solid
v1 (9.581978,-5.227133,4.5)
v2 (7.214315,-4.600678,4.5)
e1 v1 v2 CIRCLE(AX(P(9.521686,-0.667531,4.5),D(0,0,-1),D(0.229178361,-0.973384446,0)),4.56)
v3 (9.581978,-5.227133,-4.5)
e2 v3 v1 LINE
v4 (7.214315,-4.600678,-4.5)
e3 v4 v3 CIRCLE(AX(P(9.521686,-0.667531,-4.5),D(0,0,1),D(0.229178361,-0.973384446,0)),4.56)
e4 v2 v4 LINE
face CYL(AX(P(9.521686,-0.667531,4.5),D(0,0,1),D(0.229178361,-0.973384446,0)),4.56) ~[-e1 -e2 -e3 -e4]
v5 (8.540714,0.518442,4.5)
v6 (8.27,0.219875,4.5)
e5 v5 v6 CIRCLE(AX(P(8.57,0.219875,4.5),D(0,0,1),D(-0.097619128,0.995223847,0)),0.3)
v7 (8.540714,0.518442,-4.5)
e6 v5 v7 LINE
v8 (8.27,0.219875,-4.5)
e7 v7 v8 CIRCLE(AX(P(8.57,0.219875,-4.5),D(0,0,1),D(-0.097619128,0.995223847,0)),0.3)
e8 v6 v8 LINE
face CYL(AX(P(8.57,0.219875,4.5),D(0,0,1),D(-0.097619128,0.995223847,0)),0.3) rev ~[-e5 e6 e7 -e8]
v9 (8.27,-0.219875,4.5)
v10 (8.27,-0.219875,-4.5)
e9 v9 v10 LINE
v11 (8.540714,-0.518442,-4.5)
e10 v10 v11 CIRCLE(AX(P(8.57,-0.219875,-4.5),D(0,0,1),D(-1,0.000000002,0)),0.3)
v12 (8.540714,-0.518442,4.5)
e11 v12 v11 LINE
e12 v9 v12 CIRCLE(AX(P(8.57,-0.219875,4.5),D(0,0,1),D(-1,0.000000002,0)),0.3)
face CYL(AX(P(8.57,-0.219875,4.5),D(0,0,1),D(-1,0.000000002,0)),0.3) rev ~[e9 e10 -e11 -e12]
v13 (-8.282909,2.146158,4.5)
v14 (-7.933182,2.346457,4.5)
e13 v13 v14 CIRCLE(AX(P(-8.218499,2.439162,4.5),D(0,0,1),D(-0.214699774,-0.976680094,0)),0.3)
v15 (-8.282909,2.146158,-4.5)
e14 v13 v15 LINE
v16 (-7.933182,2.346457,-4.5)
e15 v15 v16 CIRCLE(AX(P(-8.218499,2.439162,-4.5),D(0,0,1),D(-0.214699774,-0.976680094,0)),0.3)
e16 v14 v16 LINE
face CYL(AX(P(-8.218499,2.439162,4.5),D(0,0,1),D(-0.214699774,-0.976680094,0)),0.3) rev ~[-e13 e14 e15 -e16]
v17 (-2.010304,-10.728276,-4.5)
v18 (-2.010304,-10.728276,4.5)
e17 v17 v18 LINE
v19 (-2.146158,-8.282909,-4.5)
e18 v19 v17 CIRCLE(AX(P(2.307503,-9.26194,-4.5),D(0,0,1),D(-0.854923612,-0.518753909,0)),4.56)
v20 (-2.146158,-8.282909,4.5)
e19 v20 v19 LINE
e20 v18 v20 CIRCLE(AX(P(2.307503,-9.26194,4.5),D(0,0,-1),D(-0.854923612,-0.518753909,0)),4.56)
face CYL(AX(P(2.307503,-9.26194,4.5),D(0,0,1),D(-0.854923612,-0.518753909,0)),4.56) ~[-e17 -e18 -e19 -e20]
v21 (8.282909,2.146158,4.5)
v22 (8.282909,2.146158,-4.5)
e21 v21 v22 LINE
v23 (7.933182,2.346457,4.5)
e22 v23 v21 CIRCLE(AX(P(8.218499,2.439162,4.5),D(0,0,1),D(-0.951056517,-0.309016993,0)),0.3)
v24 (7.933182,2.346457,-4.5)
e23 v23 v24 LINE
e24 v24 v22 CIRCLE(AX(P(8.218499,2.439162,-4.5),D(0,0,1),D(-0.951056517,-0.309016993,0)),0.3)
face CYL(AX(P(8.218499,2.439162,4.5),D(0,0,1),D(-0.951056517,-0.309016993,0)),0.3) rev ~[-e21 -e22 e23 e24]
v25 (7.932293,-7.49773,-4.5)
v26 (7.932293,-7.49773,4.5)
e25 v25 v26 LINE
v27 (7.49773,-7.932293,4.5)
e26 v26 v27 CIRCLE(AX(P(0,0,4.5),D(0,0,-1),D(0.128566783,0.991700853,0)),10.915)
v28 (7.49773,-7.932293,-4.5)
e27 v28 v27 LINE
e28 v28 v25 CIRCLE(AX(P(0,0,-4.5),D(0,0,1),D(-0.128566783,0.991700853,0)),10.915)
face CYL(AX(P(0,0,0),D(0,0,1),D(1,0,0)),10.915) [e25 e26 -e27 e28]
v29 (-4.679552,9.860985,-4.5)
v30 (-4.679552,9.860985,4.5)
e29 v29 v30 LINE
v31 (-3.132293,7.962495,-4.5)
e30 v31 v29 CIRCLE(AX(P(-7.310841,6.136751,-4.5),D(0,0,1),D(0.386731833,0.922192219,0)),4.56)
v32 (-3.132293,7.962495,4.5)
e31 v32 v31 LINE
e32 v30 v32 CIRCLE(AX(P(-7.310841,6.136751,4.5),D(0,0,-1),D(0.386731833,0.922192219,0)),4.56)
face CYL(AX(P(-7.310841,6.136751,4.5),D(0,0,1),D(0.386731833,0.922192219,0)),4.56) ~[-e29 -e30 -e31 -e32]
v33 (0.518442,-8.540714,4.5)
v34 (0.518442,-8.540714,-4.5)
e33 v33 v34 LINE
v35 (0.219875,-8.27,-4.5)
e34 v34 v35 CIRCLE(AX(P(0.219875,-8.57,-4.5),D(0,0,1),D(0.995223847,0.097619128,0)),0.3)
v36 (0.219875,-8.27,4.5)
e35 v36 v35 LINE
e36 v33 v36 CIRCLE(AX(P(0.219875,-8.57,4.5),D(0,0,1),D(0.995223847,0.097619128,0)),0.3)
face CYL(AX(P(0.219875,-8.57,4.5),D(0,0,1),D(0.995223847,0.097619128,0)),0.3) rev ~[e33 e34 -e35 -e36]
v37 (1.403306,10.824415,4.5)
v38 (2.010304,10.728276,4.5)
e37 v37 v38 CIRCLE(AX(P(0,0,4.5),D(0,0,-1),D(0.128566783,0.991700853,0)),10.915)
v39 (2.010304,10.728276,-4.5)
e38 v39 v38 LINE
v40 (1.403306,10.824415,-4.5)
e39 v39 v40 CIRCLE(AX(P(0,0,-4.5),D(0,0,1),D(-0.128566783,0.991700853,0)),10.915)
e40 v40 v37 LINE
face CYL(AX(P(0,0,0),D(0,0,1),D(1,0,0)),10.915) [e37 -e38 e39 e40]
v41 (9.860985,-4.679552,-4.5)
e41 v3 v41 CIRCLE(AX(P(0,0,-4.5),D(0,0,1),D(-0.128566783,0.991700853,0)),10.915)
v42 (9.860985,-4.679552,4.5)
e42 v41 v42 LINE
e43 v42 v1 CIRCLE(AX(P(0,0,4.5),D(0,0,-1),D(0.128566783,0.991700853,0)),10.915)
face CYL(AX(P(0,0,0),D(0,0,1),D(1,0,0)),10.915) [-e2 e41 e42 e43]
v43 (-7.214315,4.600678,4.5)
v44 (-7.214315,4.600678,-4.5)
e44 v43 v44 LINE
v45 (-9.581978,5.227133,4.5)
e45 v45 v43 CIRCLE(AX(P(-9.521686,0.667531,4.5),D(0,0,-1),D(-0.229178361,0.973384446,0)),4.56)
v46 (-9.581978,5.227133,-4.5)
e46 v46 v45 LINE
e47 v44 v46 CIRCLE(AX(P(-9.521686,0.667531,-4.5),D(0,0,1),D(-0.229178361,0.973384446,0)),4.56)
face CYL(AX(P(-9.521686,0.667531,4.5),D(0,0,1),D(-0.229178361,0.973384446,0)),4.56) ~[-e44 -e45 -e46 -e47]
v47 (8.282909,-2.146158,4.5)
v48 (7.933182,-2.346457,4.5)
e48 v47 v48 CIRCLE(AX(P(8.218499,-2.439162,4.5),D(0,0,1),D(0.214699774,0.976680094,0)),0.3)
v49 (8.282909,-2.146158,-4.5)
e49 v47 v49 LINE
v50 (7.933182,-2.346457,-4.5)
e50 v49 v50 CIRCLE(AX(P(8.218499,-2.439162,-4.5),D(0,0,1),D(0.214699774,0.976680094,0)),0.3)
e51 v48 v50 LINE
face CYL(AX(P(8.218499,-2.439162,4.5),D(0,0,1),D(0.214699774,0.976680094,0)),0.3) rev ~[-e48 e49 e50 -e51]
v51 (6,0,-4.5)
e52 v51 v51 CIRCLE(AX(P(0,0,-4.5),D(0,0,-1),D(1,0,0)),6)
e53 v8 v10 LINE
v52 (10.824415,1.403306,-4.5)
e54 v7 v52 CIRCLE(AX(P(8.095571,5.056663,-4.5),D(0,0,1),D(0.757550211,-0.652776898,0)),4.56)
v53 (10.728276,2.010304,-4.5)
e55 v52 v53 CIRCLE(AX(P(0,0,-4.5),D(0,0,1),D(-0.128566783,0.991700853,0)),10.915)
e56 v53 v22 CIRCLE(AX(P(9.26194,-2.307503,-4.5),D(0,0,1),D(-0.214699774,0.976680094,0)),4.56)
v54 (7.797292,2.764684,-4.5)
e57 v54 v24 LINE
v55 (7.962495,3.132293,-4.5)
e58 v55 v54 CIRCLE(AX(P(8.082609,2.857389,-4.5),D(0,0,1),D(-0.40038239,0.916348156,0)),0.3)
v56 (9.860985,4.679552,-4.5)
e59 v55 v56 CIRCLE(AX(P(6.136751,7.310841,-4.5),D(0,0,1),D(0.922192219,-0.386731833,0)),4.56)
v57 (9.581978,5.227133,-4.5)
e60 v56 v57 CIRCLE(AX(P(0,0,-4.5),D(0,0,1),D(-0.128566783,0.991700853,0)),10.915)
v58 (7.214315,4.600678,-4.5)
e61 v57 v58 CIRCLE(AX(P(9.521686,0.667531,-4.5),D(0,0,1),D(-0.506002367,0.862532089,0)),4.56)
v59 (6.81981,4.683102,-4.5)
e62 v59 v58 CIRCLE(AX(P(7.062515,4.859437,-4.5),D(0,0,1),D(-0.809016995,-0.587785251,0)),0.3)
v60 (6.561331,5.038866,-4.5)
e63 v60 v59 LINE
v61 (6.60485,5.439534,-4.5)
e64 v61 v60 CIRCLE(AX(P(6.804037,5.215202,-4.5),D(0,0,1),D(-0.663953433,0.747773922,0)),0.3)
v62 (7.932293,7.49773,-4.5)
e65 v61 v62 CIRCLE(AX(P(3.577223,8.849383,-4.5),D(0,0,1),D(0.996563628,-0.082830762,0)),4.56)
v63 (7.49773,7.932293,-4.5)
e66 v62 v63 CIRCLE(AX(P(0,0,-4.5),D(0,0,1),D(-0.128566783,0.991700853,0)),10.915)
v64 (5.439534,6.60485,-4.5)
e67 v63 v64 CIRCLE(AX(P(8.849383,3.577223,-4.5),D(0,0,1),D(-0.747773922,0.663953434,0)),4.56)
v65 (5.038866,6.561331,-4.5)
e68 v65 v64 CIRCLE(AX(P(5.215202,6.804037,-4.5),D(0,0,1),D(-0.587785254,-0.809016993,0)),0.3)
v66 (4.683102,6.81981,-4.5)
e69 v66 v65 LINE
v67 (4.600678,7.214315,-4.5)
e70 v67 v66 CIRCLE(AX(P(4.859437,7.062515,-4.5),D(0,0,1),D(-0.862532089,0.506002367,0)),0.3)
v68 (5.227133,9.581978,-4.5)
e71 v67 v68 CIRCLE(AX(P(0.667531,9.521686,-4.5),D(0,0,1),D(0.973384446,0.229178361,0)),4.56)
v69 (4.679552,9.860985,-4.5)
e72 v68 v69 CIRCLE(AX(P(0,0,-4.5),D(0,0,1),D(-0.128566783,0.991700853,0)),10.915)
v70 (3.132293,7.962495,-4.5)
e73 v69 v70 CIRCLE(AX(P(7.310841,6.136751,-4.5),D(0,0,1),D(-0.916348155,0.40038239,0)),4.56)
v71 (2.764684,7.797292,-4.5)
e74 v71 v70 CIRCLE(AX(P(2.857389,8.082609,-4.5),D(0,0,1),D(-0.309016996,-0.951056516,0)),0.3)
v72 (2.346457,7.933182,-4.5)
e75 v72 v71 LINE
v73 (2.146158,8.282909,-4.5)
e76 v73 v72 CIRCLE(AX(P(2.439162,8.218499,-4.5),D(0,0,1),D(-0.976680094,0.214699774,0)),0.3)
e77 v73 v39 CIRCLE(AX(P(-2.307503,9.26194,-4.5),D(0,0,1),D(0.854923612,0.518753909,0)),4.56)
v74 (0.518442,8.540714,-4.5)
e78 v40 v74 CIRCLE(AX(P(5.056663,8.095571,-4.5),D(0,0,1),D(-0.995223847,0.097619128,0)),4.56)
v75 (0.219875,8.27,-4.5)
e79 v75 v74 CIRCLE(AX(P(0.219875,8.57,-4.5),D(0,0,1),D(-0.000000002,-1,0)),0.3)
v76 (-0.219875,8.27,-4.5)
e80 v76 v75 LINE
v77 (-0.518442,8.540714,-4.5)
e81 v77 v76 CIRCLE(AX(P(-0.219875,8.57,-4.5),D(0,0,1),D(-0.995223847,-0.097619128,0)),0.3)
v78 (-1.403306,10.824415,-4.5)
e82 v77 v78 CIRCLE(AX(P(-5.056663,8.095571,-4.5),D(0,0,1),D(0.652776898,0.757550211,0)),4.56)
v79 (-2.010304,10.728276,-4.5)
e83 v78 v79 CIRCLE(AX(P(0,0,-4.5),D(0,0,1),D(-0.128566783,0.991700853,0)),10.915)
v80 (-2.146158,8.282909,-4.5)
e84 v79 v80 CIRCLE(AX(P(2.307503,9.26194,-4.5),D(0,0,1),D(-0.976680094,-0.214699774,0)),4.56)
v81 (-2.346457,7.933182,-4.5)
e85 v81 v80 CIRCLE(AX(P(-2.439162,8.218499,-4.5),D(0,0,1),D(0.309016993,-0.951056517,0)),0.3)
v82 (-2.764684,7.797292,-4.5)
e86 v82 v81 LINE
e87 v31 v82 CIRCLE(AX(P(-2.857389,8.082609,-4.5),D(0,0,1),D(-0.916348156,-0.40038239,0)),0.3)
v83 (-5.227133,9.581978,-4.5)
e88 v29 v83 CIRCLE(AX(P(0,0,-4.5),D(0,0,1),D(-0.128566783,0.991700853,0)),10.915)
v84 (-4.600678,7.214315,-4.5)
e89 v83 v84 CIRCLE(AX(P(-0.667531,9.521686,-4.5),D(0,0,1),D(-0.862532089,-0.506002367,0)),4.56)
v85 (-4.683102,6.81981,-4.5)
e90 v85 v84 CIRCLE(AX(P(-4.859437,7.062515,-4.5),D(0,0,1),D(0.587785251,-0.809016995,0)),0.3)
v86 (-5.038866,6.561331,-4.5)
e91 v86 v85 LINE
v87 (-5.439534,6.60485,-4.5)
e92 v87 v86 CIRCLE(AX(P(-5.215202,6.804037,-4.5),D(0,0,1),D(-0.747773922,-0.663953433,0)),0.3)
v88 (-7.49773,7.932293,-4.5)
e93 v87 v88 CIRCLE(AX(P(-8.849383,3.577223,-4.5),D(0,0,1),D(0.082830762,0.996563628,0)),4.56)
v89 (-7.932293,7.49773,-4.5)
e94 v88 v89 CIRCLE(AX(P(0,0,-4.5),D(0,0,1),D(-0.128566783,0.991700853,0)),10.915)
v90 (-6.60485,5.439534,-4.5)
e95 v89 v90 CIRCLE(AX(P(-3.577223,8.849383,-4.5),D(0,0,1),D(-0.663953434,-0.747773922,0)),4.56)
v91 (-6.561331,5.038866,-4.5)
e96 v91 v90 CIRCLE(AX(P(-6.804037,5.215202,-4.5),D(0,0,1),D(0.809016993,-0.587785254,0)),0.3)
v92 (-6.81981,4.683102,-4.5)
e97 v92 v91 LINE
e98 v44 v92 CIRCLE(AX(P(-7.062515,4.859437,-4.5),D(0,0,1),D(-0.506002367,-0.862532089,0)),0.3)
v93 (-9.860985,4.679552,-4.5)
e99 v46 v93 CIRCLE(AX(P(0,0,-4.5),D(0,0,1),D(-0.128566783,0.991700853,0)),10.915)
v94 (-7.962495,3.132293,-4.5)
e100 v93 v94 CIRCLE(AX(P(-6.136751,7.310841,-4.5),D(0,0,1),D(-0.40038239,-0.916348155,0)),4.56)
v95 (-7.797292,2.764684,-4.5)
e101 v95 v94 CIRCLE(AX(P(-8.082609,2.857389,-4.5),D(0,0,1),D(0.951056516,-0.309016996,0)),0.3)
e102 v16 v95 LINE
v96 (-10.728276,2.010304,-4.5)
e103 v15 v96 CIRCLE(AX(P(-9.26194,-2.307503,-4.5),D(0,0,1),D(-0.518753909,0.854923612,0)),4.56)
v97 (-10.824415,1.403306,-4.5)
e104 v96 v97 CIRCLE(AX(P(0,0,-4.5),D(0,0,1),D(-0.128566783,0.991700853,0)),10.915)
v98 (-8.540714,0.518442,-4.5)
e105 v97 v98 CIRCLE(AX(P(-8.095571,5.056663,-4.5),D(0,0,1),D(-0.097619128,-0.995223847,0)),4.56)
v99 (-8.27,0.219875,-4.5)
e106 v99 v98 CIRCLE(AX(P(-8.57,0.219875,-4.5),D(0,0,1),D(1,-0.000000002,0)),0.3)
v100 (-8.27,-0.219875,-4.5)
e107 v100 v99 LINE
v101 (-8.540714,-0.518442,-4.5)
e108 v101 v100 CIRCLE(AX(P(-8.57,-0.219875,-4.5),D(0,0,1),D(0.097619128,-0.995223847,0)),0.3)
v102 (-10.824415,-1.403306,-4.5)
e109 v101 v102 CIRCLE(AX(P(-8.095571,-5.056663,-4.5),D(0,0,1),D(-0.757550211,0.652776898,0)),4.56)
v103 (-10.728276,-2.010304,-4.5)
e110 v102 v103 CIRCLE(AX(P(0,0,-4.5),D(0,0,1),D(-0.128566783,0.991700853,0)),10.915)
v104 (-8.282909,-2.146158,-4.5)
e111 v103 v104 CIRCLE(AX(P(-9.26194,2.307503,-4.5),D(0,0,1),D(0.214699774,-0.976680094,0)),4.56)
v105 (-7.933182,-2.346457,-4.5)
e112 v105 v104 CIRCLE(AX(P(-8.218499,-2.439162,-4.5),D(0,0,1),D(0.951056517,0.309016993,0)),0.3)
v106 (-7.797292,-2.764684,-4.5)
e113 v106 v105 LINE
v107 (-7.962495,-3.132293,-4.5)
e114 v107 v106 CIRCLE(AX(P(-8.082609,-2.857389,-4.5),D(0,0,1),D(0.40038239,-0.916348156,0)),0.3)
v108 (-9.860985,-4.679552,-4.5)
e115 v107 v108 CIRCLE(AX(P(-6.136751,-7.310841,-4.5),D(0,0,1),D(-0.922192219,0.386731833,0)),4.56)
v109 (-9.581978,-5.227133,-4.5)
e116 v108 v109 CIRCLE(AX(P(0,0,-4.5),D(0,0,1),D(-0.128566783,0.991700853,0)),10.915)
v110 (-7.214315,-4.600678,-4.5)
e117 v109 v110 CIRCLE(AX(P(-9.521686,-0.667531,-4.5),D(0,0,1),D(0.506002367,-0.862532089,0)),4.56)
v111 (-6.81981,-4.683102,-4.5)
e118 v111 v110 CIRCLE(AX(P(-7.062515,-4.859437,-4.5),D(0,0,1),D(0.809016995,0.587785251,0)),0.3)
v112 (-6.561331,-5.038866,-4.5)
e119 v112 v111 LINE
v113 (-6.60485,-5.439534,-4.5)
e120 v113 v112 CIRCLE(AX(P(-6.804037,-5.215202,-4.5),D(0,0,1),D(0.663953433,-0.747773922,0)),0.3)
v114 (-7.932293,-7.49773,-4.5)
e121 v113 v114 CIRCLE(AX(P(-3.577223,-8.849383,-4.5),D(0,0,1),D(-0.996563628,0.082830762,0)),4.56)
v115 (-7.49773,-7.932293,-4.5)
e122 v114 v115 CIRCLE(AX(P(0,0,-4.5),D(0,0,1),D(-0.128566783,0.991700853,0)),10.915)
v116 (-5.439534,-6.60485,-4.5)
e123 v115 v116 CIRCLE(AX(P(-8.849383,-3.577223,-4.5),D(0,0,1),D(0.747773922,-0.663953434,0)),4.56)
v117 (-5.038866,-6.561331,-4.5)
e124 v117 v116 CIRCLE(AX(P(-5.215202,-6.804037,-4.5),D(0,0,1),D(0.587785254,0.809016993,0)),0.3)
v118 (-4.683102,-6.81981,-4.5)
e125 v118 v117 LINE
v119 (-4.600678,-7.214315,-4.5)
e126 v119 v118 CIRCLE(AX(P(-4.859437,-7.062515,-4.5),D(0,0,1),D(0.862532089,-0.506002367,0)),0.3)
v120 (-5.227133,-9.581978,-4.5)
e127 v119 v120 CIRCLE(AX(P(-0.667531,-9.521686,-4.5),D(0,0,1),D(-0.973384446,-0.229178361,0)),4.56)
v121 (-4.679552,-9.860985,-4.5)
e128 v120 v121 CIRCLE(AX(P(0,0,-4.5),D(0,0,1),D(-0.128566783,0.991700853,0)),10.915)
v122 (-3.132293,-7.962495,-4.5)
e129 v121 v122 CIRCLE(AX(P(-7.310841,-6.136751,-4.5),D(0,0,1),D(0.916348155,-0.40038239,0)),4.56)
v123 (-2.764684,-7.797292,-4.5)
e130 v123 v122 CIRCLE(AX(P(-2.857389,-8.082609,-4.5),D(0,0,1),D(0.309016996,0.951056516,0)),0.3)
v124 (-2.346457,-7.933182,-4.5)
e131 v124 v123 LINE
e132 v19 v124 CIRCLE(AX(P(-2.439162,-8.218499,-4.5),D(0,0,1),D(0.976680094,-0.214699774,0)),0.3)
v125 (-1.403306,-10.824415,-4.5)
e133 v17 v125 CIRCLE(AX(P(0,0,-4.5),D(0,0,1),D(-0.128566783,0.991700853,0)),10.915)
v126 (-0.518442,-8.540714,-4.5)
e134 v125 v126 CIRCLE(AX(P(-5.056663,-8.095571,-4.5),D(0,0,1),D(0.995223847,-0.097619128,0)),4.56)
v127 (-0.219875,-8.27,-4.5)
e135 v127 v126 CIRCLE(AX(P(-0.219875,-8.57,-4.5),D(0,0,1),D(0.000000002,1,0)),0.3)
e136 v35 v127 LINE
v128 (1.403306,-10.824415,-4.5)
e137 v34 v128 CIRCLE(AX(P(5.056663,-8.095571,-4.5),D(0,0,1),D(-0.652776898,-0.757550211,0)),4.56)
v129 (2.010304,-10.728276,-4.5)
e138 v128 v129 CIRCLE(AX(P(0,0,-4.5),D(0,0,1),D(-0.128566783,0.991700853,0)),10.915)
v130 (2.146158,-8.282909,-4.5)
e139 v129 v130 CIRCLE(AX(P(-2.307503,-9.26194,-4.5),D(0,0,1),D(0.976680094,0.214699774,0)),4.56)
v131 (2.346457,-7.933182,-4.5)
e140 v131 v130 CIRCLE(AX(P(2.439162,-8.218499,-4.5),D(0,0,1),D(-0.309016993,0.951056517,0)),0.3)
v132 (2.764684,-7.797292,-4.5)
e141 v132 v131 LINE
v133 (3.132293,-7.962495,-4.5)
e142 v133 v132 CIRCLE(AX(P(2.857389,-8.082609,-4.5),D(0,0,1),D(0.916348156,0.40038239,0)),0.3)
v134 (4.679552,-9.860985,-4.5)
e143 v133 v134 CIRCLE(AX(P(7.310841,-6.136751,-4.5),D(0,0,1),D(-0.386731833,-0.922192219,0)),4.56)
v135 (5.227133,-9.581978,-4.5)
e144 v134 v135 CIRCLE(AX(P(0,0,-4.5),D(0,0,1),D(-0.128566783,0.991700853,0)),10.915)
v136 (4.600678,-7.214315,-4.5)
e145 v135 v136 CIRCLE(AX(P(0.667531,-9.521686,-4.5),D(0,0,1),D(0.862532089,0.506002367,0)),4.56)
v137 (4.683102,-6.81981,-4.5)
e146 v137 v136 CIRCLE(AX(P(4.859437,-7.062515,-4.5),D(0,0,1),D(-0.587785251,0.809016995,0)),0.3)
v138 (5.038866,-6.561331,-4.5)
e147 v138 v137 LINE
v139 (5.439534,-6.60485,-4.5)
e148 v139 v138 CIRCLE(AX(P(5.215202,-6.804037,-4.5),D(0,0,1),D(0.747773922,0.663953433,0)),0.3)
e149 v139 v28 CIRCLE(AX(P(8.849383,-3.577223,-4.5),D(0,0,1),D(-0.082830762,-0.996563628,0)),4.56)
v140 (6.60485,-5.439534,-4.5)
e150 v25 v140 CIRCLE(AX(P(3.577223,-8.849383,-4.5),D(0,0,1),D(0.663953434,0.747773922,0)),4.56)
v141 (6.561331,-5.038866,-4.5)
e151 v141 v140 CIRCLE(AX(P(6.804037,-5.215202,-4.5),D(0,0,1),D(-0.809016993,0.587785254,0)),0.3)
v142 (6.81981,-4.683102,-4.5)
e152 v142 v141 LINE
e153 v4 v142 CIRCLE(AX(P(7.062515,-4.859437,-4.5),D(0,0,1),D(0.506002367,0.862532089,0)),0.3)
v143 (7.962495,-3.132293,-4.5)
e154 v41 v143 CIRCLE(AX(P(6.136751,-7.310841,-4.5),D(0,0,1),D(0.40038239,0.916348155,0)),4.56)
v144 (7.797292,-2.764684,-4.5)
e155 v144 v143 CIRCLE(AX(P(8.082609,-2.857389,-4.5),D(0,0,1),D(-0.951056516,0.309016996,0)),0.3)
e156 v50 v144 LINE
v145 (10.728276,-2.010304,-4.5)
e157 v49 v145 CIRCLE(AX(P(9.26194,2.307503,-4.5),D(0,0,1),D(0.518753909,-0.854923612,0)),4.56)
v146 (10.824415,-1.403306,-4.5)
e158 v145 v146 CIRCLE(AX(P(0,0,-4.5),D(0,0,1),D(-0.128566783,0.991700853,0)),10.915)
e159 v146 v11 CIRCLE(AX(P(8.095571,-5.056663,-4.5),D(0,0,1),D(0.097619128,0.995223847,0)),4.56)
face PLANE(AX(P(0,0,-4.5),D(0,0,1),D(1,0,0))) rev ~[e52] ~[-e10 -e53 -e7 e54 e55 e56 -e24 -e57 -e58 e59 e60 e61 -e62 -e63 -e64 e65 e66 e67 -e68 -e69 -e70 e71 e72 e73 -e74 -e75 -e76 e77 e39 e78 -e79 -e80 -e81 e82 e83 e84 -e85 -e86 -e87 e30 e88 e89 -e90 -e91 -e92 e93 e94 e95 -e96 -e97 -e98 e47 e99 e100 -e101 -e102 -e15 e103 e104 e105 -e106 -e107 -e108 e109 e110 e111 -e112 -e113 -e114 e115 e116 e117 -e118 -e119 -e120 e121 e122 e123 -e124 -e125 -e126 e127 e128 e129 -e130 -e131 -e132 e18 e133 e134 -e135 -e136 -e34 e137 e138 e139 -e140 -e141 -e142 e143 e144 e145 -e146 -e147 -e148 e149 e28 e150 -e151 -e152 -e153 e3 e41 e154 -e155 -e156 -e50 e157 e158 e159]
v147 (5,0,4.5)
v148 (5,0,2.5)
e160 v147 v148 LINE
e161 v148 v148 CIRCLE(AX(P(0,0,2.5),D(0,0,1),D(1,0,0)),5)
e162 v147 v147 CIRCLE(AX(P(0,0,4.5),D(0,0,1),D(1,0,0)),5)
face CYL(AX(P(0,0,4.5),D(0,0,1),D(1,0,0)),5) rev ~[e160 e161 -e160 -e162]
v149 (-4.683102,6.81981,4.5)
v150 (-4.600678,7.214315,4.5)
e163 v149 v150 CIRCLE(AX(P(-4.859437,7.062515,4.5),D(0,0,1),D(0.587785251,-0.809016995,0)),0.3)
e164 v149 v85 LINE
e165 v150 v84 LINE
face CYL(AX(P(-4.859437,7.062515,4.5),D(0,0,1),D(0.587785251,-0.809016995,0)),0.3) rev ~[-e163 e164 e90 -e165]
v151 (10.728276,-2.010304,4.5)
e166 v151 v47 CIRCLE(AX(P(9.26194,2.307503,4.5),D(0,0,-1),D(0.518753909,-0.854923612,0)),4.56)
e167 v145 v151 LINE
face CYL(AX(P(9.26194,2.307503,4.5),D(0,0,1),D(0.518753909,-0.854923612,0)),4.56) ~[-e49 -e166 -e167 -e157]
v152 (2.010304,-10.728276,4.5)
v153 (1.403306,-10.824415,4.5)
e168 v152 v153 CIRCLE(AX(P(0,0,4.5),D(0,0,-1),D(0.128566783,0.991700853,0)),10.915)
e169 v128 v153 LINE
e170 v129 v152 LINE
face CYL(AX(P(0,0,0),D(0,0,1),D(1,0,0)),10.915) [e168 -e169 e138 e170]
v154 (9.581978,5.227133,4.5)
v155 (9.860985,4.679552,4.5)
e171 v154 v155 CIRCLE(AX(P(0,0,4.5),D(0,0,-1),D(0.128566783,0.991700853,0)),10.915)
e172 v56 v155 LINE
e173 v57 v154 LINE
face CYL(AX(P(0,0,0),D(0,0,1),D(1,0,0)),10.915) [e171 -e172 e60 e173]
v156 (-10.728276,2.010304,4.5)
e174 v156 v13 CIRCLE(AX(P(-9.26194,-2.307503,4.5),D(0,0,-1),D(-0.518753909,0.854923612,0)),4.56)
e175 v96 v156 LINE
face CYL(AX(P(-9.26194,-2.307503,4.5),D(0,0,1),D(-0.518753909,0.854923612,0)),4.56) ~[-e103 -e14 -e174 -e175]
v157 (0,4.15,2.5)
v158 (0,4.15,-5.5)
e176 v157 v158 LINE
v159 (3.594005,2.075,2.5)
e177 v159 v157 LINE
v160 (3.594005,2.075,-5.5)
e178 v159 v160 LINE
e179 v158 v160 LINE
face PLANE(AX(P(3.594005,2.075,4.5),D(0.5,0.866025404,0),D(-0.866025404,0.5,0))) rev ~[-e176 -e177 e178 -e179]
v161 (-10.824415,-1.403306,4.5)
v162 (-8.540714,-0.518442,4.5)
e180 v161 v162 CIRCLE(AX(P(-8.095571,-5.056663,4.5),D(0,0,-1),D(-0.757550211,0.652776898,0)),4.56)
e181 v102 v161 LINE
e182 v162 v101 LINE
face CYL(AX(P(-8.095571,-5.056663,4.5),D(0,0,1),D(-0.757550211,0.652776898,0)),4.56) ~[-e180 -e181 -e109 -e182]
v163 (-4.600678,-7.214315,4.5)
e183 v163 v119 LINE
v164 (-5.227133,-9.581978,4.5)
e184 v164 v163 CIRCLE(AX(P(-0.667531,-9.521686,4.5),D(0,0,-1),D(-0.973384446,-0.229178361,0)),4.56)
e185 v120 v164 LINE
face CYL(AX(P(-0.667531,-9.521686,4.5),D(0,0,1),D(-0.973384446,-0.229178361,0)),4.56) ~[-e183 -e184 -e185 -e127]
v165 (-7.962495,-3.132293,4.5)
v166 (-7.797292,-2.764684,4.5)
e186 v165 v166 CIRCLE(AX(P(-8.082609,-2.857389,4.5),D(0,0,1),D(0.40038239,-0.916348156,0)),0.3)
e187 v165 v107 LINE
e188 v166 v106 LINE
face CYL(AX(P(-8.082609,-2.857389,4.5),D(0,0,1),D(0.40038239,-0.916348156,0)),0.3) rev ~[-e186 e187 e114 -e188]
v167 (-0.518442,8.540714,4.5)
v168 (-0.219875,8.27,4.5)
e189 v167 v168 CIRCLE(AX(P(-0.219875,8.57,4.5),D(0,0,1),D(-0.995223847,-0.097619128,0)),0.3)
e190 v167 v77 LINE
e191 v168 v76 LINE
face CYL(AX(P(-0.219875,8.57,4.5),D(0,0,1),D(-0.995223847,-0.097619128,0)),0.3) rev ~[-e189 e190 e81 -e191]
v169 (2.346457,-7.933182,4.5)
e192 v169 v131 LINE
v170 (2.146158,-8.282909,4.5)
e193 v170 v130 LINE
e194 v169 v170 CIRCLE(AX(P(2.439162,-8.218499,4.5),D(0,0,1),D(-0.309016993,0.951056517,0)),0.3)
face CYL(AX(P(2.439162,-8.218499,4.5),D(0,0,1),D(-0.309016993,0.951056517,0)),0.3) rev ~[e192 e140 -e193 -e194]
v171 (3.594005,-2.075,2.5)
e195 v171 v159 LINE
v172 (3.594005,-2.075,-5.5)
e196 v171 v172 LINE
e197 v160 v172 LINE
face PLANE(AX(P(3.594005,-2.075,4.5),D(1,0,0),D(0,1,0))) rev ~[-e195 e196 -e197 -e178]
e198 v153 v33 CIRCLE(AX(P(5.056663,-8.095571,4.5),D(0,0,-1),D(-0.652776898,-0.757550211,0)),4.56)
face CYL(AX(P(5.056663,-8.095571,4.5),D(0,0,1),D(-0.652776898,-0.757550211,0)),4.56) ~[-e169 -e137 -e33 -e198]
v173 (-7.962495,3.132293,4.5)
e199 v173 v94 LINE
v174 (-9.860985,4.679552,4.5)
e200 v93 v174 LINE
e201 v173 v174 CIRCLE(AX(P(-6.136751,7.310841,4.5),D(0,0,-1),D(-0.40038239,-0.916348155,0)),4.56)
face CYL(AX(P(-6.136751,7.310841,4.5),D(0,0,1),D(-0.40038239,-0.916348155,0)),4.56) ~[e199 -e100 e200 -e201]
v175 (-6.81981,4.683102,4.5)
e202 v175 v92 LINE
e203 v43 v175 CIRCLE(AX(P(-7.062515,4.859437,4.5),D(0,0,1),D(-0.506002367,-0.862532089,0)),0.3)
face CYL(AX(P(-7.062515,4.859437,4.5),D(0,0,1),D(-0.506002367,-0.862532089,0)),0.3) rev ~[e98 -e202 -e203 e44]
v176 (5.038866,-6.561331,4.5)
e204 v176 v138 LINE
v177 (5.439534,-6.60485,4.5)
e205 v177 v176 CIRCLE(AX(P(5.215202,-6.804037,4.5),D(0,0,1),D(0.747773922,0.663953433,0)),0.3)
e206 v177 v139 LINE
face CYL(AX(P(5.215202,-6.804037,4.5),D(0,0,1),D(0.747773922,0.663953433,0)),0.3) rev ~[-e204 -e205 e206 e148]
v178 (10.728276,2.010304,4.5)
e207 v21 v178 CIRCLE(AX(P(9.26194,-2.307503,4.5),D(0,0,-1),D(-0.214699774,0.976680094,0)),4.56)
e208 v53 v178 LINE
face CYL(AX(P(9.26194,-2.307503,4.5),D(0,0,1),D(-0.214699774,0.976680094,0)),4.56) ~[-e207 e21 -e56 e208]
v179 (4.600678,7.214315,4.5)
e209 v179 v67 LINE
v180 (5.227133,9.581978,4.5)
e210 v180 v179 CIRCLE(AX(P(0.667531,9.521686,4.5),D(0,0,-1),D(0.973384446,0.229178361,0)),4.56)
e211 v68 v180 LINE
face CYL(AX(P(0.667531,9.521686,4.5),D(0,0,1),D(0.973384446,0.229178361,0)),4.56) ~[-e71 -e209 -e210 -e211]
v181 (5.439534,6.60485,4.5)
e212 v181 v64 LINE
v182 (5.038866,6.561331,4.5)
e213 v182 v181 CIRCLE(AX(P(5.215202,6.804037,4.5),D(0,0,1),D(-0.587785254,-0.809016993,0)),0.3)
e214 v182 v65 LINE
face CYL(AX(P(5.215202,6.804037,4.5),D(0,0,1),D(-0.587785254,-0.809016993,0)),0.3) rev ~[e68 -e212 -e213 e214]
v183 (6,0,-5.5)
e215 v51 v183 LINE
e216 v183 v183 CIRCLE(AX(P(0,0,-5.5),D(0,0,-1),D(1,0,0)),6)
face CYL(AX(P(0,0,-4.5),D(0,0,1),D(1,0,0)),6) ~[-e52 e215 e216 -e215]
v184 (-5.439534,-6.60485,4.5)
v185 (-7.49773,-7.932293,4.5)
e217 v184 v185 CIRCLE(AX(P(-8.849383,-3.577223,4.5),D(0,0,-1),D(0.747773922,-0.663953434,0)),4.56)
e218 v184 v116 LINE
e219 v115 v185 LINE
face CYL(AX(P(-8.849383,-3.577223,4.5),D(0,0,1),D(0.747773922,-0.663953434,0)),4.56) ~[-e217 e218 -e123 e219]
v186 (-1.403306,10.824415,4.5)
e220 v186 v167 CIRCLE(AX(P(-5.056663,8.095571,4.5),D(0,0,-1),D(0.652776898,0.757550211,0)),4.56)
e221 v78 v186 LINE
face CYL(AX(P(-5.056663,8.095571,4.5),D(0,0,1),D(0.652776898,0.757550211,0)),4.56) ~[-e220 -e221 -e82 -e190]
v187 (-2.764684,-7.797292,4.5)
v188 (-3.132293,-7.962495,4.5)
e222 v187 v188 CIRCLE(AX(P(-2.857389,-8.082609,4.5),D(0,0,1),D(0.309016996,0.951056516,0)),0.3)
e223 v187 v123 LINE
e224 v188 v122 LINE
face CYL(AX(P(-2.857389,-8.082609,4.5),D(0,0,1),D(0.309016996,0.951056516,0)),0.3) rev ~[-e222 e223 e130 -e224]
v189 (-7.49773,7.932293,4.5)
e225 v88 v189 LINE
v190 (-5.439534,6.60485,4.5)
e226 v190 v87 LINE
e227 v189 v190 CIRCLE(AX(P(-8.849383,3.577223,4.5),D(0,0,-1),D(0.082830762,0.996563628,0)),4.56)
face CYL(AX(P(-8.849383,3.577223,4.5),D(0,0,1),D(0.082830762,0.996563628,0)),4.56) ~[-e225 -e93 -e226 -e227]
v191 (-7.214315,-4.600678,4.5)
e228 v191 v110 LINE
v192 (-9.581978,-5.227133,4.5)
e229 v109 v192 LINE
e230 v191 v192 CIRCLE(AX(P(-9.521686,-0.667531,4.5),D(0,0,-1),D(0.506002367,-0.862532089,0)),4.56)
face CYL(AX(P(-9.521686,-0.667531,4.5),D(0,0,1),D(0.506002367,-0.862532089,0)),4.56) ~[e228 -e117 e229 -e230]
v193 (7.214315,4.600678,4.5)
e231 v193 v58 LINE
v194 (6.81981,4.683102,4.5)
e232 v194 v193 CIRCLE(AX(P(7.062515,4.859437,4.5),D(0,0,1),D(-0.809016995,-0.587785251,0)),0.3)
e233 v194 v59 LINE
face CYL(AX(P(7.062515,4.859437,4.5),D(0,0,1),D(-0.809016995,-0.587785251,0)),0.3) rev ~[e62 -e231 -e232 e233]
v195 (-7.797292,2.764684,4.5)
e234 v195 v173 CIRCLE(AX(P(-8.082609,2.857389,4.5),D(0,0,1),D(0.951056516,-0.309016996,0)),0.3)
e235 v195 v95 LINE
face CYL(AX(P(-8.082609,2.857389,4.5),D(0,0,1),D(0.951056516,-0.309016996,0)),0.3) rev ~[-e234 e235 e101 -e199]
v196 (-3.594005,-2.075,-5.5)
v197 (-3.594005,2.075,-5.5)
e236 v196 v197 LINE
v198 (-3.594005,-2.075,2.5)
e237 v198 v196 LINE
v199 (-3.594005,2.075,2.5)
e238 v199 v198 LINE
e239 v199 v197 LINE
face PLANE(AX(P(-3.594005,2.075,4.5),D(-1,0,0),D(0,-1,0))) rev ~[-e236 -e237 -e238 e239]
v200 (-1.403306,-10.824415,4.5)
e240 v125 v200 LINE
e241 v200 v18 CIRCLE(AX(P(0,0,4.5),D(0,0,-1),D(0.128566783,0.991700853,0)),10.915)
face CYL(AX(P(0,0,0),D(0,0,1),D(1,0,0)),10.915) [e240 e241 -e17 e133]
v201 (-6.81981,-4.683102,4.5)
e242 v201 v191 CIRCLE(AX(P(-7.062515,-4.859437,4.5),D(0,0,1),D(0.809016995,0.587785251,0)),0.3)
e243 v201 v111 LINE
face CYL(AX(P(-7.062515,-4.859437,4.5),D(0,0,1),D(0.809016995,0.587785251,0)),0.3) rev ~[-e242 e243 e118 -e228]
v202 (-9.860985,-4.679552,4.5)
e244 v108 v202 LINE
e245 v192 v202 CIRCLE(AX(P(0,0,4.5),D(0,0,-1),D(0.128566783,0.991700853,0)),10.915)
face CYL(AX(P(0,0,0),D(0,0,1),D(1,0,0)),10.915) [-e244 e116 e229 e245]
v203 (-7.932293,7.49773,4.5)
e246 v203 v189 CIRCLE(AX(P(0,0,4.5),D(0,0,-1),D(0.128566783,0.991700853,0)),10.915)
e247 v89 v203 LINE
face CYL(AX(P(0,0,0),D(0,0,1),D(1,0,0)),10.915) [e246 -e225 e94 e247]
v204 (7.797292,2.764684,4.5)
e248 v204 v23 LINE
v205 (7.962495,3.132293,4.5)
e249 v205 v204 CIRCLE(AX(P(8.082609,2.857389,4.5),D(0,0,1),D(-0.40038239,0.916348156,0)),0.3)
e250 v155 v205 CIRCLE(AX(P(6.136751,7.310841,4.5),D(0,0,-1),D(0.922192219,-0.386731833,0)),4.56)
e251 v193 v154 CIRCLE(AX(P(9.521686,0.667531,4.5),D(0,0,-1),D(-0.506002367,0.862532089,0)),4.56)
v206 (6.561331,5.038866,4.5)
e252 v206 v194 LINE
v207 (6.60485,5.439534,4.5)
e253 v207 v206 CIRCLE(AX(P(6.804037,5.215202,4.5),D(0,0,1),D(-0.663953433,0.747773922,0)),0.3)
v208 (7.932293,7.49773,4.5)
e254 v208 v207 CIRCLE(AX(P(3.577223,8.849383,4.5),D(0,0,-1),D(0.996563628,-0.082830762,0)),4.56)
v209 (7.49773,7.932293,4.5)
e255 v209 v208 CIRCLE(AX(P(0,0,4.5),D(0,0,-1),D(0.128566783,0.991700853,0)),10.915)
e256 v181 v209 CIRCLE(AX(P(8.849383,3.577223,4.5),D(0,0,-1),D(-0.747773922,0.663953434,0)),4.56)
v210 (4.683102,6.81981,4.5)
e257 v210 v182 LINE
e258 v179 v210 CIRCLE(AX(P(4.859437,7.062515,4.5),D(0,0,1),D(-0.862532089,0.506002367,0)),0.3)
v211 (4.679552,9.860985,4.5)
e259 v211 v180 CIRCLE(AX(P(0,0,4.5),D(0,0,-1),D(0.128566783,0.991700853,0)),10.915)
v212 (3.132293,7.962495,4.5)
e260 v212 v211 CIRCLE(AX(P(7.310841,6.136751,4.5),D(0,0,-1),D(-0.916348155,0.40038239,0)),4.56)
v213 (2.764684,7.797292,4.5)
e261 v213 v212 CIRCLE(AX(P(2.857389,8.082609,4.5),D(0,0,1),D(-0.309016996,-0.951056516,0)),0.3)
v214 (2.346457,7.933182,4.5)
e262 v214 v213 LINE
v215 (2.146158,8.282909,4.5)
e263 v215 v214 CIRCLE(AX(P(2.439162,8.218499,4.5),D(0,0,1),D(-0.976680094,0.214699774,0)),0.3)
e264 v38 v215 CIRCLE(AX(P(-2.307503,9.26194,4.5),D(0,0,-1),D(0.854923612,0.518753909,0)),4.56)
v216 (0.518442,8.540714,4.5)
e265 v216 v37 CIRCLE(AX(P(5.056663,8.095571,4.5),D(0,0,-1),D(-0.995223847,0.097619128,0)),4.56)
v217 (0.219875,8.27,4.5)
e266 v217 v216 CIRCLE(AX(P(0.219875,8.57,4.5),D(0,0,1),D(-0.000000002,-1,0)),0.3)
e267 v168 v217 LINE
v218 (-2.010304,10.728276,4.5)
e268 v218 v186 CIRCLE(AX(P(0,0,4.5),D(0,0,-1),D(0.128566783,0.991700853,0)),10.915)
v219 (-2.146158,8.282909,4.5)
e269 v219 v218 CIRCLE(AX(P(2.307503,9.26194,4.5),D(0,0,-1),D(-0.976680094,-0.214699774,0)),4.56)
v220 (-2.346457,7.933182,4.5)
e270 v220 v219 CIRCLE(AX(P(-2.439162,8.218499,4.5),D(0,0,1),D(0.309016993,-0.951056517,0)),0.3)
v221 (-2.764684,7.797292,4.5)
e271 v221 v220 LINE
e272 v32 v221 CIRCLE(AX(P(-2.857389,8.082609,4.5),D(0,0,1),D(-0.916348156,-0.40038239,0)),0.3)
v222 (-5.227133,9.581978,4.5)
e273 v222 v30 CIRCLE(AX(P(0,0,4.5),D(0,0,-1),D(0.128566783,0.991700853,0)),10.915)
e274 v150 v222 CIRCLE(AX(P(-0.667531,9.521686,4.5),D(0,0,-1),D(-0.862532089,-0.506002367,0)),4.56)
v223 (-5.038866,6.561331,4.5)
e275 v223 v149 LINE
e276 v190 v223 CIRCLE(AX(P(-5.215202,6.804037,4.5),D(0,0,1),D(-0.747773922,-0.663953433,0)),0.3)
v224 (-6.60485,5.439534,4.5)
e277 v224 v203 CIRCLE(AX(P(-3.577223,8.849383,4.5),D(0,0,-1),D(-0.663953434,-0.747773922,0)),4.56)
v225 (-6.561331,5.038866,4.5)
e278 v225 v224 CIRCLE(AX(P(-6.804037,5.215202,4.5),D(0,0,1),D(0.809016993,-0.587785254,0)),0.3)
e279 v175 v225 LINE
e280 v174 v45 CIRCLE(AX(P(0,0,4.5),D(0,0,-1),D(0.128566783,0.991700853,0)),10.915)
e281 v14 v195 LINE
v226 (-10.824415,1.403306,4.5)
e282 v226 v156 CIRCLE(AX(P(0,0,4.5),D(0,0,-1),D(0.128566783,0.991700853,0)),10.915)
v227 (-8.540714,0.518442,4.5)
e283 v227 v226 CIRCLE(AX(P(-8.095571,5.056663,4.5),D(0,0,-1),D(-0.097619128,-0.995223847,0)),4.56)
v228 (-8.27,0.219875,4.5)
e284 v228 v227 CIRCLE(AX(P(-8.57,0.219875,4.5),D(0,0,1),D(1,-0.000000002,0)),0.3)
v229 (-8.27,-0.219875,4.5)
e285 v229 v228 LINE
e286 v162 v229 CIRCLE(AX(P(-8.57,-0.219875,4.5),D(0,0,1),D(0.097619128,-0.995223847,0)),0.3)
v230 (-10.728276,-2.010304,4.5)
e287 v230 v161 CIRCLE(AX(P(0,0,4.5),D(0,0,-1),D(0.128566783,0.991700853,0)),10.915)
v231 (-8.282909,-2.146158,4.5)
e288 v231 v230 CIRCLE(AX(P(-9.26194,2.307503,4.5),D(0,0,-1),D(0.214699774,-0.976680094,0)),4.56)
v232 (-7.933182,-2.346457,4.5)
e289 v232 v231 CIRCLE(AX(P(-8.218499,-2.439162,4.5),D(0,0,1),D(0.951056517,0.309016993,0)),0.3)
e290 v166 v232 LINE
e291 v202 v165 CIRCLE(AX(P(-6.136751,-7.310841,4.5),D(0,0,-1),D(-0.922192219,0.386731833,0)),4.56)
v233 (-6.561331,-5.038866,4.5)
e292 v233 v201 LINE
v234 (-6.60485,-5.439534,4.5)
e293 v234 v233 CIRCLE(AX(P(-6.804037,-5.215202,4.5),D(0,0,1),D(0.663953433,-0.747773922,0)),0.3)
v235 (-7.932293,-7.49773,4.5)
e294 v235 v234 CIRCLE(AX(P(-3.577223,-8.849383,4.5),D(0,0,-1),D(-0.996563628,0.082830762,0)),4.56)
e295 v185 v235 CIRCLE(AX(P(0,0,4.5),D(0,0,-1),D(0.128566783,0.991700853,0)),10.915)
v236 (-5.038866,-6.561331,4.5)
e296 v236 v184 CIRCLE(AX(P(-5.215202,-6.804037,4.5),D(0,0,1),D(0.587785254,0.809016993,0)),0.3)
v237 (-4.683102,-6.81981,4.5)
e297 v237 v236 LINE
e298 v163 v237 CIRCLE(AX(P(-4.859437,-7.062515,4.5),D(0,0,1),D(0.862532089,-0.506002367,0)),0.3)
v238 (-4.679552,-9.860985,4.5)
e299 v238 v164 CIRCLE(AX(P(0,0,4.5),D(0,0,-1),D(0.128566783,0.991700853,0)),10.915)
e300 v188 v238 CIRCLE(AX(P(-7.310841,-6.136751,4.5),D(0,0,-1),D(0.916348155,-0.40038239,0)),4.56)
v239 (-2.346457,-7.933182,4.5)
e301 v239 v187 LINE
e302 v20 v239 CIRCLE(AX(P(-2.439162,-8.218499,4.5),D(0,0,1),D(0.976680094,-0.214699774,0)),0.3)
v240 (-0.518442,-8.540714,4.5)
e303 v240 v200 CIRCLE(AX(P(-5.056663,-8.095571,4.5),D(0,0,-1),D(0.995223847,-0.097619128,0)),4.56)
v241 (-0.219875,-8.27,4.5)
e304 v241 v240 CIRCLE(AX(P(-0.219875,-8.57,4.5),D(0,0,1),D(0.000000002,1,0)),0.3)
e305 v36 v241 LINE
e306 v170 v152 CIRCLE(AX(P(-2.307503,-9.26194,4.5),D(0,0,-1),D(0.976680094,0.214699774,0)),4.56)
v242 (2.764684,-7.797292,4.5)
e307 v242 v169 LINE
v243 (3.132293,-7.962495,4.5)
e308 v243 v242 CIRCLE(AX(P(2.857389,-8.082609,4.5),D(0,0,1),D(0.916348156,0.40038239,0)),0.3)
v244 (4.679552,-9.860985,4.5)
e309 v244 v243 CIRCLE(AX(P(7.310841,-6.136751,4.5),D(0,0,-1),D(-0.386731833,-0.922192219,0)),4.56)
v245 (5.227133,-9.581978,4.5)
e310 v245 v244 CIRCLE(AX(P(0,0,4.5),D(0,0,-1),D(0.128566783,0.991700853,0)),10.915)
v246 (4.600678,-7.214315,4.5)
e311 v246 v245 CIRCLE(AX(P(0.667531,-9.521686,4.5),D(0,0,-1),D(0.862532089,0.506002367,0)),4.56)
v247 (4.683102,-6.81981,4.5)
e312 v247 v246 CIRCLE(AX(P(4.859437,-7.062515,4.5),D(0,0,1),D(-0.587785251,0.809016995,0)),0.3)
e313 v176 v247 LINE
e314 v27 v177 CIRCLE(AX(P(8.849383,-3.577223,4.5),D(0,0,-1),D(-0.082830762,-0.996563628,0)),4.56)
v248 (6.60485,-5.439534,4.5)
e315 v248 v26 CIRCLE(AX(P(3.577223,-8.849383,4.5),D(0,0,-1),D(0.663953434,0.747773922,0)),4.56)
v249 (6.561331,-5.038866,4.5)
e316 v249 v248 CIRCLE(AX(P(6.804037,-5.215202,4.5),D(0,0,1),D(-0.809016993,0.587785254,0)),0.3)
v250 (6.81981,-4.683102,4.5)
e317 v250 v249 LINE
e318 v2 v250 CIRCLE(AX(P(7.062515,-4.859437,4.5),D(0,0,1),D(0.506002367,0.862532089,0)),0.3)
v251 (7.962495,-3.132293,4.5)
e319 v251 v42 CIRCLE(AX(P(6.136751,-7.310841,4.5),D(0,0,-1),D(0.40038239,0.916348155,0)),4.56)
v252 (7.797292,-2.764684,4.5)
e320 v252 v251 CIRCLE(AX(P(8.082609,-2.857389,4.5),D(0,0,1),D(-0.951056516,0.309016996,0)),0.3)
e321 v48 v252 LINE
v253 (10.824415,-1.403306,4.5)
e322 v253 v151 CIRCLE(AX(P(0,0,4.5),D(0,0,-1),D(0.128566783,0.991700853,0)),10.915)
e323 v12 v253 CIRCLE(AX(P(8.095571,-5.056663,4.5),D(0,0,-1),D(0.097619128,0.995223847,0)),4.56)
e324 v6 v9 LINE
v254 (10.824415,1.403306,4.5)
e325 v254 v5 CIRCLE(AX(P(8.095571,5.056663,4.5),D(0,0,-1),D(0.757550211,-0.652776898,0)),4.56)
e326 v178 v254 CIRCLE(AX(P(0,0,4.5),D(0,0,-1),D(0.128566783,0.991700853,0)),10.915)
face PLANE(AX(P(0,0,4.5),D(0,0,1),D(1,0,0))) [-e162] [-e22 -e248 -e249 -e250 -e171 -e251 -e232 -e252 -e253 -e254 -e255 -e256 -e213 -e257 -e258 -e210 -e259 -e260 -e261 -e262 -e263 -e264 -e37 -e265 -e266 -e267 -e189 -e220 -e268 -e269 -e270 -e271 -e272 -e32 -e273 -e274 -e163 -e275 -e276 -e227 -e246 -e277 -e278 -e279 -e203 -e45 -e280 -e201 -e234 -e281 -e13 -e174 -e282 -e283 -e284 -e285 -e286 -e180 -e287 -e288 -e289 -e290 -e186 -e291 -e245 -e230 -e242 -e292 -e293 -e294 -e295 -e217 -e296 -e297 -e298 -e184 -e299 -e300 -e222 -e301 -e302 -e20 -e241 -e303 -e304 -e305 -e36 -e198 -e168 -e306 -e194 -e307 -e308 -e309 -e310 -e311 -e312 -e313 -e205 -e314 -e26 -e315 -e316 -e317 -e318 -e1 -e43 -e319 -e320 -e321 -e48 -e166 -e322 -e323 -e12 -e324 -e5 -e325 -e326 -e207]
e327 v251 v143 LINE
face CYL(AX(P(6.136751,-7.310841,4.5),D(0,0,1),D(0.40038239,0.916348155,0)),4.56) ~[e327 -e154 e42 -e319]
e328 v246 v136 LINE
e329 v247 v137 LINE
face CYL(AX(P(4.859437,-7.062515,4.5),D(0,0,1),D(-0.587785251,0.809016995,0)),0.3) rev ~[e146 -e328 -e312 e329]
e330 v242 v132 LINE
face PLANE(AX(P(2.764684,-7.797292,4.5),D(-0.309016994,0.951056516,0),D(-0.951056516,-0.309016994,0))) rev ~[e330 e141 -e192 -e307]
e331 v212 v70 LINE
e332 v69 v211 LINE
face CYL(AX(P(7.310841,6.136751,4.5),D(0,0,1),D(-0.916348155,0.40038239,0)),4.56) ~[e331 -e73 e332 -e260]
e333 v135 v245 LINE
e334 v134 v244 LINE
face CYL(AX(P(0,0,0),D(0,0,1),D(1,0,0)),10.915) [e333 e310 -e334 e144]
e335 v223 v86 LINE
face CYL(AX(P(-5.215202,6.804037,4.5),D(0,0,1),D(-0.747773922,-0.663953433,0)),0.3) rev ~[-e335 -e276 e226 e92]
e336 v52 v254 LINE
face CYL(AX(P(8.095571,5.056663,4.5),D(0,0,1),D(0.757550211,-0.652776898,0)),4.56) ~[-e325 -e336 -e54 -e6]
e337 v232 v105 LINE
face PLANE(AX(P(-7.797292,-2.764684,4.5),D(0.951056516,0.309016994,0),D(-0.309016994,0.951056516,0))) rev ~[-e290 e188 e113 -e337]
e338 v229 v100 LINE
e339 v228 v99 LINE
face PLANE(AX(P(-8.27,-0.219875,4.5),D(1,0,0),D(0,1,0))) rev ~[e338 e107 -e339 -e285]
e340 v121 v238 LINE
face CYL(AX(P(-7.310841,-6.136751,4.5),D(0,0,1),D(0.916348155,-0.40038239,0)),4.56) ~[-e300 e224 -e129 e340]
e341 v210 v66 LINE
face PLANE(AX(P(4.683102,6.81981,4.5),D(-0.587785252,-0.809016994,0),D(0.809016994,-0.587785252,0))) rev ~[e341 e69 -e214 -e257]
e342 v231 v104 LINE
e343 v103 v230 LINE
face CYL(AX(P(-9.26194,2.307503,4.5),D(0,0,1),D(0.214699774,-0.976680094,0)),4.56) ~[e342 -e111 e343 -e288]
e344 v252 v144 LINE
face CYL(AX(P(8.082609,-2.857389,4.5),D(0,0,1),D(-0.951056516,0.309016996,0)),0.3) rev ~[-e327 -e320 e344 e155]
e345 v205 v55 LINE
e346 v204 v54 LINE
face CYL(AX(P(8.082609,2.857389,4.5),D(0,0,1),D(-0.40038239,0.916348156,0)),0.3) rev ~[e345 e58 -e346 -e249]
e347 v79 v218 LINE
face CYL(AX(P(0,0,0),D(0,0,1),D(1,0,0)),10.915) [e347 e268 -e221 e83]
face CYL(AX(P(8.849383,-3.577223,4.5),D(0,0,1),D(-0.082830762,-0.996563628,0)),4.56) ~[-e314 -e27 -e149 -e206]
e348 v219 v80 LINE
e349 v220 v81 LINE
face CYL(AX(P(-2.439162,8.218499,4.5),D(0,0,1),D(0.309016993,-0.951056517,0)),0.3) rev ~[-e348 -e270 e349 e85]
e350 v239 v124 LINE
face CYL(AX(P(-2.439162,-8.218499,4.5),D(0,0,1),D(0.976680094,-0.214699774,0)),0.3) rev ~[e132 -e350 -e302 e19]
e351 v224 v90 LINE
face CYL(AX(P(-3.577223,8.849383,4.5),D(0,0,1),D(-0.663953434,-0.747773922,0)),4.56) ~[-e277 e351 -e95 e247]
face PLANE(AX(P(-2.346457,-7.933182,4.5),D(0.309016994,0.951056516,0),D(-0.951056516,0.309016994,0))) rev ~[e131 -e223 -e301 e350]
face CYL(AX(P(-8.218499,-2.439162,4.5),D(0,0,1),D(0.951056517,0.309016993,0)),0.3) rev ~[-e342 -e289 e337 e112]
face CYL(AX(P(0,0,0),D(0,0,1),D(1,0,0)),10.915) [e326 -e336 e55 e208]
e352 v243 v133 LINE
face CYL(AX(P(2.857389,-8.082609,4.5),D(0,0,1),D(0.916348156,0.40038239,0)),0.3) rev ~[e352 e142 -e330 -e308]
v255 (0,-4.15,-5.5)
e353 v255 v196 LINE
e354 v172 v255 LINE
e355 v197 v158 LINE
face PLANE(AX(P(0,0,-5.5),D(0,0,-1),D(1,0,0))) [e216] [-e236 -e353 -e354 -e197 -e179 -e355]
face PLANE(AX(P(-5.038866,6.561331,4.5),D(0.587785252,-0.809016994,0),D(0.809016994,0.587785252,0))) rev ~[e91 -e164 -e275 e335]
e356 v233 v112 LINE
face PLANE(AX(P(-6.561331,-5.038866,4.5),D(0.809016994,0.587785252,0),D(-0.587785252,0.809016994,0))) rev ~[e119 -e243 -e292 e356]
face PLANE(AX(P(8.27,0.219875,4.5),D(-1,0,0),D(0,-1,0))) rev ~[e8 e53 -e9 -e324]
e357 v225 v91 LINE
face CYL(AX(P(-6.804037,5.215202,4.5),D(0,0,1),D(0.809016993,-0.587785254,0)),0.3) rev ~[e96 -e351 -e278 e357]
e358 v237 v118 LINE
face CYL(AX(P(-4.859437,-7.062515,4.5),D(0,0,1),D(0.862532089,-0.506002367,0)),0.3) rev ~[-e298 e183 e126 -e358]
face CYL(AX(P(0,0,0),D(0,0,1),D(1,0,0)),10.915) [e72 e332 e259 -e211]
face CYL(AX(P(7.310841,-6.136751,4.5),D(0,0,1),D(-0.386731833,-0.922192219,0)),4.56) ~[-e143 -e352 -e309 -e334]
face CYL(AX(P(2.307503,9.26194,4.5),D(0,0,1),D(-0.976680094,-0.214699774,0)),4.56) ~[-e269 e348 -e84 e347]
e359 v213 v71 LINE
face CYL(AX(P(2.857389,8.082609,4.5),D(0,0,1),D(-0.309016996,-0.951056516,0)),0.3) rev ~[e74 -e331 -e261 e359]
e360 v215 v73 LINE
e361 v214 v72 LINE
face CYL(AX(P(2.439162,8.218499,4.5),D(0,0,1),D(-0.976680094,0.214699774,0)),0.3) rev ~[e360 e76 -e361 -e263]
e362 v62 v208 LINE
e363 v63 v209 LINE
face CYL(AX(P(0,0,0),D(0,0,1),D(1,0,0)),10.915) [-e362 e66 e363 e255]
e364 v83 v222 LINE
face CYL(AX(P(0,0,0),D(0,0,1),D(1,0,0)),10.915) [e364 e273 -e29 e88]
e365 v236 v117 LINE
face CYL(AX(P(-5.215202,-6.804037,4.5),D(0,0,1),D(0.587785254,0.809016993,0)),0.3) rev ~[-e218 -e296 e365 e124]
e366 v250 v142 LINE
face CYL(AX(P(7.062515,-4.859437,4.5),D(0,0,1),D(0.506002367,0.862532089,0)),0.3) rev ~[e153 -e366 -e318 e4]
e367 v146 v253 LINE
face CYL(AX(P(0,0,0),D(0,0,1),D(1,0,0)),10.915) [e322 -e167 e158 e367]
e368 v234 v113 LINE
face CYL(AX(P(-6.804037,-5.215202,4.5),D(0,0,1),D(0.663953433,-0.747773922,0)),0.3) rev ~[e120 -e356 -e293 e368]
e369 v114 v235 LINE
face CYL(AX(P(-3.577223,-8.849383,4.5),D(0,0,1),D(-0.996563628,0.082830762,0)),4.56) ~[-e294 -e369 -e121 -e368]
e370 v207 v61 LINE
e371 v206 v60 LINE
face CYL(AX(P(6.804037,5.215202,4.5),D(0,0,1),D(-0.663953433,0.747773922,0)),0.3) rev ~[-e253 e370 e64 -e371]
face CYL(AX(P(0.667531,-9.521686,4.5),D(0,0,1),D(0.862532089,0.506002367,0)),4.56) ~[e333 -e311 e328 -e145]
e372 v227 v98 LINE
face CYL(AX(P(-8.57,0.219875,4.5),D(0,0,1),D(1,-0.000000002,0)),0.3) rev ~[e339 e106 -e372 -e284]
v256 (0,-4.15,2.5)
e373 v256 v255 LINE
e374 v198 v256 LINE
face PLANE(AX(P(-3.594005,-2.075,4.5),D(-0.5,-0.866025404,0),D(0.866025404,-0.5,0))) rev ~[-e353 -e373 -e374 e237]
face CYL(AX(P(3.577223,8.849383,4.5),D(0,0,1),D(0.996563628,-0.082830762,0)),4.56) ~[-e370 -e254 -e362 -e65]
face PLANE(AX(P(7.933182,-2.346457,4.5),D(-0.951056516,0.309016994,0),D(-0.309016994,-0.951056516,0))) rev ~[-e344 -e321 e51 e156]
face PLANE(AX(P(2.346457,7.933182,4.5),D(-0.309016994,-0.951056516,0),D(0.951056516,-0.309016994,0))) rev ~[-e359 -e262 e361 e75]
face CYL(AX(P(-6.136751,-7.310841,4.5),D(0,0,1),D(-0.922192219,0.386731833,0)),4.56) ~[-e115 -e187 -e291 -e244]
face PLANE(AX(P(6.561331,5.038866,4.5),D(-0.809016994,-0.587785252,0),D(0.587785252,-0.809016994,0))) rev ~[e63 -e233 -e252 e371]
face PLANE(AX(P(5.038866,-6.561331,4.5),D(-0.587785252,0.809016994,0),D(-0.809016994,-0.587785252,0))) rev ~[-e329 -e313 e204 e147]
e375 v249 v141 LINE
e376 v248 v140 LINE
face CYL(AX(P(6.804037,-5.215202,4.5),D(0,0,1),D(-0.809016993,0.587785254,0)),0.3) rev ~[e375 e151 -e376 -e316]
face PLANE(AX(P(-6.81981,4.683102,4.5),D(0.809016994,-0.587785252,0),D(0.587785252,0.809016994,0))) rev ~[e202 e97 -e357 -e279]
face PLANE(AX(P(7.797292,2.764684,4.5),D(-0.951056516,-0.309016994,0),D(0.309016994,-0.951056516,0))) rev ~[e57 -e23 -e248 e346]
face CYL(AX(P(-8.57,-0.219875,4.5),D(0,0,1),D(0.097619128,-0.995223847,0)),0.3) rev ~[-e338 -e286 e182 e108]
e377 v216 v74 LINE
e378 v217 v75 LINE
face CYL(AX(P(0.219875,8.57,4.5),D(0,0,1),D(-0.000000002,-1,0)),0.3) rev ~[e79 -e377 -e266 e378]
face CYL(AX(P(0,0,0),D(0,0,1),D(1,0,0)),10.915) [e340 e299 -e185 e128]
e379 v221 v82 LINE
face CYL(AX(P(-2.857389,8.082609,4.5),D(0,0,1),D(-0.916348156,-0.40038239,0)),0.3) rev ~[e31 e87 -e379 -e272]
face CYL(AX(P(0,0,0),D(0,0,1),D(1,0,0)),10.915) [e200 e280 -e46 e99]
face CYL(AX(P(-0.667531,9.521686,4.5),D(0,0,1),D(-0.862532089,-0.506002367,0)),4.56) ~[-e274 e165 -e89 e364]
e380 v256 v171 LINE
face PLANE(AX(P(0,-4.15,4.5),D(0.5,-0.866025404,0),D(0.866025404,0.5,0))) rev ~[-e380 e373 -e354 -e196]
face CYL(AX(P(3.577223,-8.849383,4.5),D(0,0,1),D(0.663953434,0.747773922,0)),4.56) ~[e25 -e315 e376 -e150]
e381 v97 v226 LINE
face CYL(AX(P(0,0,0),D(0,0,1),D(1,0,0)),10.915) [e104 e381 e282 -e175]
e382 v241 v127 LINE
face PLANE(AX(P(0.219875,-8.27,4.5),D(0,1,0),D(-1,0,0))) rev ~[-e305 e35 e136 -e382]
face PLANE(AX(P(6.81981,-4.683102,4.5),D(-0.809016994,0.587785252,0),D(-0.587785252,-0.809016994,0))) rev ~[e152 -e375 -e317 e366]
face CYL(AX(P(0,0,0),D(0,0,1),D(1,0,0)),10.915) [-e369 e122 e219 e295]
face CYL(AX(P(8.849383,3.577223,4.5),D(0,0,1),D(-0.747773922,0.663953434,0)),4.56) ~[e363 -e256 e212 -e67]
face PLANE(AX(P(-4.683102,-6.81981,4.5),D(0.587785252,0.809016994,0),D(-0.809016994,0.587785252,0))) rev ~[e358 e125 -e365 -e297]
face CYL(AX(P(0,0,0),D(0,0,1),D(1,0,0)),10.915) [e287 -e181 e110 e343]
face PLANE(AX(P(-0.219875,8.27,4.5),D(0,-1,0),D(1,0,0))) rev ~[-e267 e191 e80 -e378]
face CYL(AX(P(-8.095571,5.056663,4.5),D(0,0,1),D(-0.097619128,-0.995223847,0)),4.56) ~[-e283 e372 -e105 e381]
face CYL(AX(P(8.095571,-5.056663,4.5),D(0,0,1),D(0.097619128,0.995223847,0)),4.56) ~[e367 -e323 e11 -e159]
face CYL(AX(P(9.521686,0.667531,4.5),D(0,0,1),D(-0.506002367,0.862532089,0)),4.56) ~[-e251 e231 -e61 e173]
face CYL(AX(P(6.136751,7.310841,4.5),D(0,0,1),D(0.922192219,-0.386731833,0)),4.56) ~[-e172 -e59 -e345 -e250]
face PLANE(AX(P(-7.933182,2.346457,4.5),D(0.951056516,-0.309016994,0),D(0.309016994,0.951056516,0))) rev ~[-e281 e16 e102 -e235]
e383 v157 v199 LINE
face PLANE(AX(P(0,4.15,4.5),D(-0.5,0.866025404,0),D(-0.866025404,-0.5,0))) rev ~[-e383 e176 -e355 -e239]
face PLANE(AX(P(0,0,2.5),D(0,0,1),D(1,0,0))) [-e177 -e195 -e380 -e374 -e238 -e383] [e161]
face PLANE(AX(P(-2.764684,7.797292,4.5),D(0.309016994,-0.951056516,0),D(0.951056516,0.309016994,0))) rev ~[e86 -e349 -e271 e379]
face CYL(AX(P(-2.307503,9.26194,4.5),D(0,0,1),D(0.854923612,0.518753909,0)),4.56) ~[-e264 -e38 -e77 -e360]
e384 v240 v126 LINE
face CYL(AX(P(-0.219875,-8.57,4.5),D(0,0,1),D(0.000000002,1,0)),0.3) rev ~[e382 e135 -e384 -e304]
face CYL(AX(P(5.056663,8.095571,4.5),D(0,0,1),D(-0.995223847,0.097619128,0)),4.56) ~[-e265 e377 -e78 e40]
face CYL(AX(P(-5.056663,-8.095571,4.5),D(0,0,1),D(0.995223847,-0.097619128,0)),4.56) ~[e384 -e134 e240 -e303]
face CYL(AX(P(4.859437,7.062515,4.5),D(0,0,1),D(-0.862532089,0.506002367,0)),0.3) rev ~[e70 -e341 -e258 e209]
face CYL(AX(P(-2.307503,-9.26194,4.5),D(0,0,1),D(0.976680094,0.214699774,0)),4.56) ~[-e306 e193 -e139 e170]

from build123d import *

# Parameters (mm, degrees)
SKIZZE1_R                       = 10.915
AUFSATZ_LINEAR_AUSTRAGEN1_DEPTH = 4.5
SKIZZE4_R                       = 5
SKIZZE4_R_2                     = 2.5
SCHNITT_LINEAR_AUSTRAGEN2_DEPTH = 2
SCHNITT_LINEAR_AUSTRAGEN3_DEPTH = 18.868252573
KREISMUSTER1_COUNT              = 20
SKIZZE8_R                       = 6
AUFSATZ_LINEAR_AUSTRAGEN2_DEPTH = 1
SCHNITT_LINEAR_AUSTRAGEN4_DEPTH = 19.284854719


with BuildPart() as part:
    # Skizze1 → Aufsatz-Linear austragen1 (new, symmetric)
    with BuildSketch(Plane.XY):
        Circle(SKIZZE1_R)
    extrude(amount=AUFSATZ_LINEAR_AUSTRAGEN1_DEPTH, both=True)

    # Skizze4 → Schnitt-Linear austragen2 (cut)
    with BuildSketch(Plane.XY.offset(4.5)):
        Circle(SKIZZE4_R)
        Circle(SKIZZE4_R_2, mode=Mode.SUBTRACT)
    extrude(amount=-SCHNITT_LINEAR_AUSTRAGEN2_DEPTH, mode=Mode.SUBTRACT)

    # Skizze6 → Schnitt-Linear austragen3 (cut, through all)
    with BuildSketch(Plane.XY.offset(4.5)):
        with BuildLine():
            Line((-0.219874756, 8.27), (0.219874756, 8.27))
            ThreePointArc((0.219874756, 8.27), (0.421386888, 8.347754953), (0.518441911, 8.540714262))
            ThreePointArc((0.518441911, 8.540714262), (1.009154991, 10.195876188), (2.08, 11.55))
            ThreePointArc((2.08, 11.55), (0, 11.670581665), (-2.08, 11.55))
            ThreePointArc((-2.08, 11.55), (-1.009154991, 10.195876188), (-0.518441911, 8.540714262))
            ThreePointArc((-0.518441911, 8.540714262), (-0.421386888, 8.347754953), (-0.219874756, 8.27))
        make_face()
    schnitt_linear_austragen3 = extrude(amount=-SCHNITT_LINEAR_AUSTRAGEN3_DEPTH, mode=Mode.SUBTRACT)

    # Kreismuster1: Schnitt-Linear austragen3 ×20 about axis
    kreismuster1_axis = Axis((0, 0, 0), (0, 0, 1))
    for i in range(1, KREISMUSTER1_COUNT):
        add(schnitt_linear_austragen3.rotate(kreismuster1_axis, i * 360 / KREISMUSTER1_COUNT), mode=Mode.SUBTRACT)

    # Skizze8 → Aufsatz-Linear austragen2 (add)
    with BuildSketch(Plane(origin=(0, 0, -4.5), x_dir=(-1, 0, 0), z_dir=(0, 0, -1))):
        with Locations(Location((0, 0, 0), (0, 0, 180))):
            Circle(SKIZZE8_R)
    extrude(amount=AUFSATZ_LINEAR_AUSTRAGEN2_DEPTH)

    # Skizze7 → Schnitt-Linear austragen4 (cut, through all)
    with BuildSketch(Plane.XY.offset(4.5)):
        Polygon((0, 4.15), (-3.594005426, 2.075), (-3.594005426, -2.075), (0, -4.15), (3.594005426, -2.075), (3.594005426, 2.075), align=None)
    extrude(amount=-SCHNITT_LINEAR_AUSTRAGEN4_DEPTH, mode=Mode.SUBTRACT)


solid = part.part
